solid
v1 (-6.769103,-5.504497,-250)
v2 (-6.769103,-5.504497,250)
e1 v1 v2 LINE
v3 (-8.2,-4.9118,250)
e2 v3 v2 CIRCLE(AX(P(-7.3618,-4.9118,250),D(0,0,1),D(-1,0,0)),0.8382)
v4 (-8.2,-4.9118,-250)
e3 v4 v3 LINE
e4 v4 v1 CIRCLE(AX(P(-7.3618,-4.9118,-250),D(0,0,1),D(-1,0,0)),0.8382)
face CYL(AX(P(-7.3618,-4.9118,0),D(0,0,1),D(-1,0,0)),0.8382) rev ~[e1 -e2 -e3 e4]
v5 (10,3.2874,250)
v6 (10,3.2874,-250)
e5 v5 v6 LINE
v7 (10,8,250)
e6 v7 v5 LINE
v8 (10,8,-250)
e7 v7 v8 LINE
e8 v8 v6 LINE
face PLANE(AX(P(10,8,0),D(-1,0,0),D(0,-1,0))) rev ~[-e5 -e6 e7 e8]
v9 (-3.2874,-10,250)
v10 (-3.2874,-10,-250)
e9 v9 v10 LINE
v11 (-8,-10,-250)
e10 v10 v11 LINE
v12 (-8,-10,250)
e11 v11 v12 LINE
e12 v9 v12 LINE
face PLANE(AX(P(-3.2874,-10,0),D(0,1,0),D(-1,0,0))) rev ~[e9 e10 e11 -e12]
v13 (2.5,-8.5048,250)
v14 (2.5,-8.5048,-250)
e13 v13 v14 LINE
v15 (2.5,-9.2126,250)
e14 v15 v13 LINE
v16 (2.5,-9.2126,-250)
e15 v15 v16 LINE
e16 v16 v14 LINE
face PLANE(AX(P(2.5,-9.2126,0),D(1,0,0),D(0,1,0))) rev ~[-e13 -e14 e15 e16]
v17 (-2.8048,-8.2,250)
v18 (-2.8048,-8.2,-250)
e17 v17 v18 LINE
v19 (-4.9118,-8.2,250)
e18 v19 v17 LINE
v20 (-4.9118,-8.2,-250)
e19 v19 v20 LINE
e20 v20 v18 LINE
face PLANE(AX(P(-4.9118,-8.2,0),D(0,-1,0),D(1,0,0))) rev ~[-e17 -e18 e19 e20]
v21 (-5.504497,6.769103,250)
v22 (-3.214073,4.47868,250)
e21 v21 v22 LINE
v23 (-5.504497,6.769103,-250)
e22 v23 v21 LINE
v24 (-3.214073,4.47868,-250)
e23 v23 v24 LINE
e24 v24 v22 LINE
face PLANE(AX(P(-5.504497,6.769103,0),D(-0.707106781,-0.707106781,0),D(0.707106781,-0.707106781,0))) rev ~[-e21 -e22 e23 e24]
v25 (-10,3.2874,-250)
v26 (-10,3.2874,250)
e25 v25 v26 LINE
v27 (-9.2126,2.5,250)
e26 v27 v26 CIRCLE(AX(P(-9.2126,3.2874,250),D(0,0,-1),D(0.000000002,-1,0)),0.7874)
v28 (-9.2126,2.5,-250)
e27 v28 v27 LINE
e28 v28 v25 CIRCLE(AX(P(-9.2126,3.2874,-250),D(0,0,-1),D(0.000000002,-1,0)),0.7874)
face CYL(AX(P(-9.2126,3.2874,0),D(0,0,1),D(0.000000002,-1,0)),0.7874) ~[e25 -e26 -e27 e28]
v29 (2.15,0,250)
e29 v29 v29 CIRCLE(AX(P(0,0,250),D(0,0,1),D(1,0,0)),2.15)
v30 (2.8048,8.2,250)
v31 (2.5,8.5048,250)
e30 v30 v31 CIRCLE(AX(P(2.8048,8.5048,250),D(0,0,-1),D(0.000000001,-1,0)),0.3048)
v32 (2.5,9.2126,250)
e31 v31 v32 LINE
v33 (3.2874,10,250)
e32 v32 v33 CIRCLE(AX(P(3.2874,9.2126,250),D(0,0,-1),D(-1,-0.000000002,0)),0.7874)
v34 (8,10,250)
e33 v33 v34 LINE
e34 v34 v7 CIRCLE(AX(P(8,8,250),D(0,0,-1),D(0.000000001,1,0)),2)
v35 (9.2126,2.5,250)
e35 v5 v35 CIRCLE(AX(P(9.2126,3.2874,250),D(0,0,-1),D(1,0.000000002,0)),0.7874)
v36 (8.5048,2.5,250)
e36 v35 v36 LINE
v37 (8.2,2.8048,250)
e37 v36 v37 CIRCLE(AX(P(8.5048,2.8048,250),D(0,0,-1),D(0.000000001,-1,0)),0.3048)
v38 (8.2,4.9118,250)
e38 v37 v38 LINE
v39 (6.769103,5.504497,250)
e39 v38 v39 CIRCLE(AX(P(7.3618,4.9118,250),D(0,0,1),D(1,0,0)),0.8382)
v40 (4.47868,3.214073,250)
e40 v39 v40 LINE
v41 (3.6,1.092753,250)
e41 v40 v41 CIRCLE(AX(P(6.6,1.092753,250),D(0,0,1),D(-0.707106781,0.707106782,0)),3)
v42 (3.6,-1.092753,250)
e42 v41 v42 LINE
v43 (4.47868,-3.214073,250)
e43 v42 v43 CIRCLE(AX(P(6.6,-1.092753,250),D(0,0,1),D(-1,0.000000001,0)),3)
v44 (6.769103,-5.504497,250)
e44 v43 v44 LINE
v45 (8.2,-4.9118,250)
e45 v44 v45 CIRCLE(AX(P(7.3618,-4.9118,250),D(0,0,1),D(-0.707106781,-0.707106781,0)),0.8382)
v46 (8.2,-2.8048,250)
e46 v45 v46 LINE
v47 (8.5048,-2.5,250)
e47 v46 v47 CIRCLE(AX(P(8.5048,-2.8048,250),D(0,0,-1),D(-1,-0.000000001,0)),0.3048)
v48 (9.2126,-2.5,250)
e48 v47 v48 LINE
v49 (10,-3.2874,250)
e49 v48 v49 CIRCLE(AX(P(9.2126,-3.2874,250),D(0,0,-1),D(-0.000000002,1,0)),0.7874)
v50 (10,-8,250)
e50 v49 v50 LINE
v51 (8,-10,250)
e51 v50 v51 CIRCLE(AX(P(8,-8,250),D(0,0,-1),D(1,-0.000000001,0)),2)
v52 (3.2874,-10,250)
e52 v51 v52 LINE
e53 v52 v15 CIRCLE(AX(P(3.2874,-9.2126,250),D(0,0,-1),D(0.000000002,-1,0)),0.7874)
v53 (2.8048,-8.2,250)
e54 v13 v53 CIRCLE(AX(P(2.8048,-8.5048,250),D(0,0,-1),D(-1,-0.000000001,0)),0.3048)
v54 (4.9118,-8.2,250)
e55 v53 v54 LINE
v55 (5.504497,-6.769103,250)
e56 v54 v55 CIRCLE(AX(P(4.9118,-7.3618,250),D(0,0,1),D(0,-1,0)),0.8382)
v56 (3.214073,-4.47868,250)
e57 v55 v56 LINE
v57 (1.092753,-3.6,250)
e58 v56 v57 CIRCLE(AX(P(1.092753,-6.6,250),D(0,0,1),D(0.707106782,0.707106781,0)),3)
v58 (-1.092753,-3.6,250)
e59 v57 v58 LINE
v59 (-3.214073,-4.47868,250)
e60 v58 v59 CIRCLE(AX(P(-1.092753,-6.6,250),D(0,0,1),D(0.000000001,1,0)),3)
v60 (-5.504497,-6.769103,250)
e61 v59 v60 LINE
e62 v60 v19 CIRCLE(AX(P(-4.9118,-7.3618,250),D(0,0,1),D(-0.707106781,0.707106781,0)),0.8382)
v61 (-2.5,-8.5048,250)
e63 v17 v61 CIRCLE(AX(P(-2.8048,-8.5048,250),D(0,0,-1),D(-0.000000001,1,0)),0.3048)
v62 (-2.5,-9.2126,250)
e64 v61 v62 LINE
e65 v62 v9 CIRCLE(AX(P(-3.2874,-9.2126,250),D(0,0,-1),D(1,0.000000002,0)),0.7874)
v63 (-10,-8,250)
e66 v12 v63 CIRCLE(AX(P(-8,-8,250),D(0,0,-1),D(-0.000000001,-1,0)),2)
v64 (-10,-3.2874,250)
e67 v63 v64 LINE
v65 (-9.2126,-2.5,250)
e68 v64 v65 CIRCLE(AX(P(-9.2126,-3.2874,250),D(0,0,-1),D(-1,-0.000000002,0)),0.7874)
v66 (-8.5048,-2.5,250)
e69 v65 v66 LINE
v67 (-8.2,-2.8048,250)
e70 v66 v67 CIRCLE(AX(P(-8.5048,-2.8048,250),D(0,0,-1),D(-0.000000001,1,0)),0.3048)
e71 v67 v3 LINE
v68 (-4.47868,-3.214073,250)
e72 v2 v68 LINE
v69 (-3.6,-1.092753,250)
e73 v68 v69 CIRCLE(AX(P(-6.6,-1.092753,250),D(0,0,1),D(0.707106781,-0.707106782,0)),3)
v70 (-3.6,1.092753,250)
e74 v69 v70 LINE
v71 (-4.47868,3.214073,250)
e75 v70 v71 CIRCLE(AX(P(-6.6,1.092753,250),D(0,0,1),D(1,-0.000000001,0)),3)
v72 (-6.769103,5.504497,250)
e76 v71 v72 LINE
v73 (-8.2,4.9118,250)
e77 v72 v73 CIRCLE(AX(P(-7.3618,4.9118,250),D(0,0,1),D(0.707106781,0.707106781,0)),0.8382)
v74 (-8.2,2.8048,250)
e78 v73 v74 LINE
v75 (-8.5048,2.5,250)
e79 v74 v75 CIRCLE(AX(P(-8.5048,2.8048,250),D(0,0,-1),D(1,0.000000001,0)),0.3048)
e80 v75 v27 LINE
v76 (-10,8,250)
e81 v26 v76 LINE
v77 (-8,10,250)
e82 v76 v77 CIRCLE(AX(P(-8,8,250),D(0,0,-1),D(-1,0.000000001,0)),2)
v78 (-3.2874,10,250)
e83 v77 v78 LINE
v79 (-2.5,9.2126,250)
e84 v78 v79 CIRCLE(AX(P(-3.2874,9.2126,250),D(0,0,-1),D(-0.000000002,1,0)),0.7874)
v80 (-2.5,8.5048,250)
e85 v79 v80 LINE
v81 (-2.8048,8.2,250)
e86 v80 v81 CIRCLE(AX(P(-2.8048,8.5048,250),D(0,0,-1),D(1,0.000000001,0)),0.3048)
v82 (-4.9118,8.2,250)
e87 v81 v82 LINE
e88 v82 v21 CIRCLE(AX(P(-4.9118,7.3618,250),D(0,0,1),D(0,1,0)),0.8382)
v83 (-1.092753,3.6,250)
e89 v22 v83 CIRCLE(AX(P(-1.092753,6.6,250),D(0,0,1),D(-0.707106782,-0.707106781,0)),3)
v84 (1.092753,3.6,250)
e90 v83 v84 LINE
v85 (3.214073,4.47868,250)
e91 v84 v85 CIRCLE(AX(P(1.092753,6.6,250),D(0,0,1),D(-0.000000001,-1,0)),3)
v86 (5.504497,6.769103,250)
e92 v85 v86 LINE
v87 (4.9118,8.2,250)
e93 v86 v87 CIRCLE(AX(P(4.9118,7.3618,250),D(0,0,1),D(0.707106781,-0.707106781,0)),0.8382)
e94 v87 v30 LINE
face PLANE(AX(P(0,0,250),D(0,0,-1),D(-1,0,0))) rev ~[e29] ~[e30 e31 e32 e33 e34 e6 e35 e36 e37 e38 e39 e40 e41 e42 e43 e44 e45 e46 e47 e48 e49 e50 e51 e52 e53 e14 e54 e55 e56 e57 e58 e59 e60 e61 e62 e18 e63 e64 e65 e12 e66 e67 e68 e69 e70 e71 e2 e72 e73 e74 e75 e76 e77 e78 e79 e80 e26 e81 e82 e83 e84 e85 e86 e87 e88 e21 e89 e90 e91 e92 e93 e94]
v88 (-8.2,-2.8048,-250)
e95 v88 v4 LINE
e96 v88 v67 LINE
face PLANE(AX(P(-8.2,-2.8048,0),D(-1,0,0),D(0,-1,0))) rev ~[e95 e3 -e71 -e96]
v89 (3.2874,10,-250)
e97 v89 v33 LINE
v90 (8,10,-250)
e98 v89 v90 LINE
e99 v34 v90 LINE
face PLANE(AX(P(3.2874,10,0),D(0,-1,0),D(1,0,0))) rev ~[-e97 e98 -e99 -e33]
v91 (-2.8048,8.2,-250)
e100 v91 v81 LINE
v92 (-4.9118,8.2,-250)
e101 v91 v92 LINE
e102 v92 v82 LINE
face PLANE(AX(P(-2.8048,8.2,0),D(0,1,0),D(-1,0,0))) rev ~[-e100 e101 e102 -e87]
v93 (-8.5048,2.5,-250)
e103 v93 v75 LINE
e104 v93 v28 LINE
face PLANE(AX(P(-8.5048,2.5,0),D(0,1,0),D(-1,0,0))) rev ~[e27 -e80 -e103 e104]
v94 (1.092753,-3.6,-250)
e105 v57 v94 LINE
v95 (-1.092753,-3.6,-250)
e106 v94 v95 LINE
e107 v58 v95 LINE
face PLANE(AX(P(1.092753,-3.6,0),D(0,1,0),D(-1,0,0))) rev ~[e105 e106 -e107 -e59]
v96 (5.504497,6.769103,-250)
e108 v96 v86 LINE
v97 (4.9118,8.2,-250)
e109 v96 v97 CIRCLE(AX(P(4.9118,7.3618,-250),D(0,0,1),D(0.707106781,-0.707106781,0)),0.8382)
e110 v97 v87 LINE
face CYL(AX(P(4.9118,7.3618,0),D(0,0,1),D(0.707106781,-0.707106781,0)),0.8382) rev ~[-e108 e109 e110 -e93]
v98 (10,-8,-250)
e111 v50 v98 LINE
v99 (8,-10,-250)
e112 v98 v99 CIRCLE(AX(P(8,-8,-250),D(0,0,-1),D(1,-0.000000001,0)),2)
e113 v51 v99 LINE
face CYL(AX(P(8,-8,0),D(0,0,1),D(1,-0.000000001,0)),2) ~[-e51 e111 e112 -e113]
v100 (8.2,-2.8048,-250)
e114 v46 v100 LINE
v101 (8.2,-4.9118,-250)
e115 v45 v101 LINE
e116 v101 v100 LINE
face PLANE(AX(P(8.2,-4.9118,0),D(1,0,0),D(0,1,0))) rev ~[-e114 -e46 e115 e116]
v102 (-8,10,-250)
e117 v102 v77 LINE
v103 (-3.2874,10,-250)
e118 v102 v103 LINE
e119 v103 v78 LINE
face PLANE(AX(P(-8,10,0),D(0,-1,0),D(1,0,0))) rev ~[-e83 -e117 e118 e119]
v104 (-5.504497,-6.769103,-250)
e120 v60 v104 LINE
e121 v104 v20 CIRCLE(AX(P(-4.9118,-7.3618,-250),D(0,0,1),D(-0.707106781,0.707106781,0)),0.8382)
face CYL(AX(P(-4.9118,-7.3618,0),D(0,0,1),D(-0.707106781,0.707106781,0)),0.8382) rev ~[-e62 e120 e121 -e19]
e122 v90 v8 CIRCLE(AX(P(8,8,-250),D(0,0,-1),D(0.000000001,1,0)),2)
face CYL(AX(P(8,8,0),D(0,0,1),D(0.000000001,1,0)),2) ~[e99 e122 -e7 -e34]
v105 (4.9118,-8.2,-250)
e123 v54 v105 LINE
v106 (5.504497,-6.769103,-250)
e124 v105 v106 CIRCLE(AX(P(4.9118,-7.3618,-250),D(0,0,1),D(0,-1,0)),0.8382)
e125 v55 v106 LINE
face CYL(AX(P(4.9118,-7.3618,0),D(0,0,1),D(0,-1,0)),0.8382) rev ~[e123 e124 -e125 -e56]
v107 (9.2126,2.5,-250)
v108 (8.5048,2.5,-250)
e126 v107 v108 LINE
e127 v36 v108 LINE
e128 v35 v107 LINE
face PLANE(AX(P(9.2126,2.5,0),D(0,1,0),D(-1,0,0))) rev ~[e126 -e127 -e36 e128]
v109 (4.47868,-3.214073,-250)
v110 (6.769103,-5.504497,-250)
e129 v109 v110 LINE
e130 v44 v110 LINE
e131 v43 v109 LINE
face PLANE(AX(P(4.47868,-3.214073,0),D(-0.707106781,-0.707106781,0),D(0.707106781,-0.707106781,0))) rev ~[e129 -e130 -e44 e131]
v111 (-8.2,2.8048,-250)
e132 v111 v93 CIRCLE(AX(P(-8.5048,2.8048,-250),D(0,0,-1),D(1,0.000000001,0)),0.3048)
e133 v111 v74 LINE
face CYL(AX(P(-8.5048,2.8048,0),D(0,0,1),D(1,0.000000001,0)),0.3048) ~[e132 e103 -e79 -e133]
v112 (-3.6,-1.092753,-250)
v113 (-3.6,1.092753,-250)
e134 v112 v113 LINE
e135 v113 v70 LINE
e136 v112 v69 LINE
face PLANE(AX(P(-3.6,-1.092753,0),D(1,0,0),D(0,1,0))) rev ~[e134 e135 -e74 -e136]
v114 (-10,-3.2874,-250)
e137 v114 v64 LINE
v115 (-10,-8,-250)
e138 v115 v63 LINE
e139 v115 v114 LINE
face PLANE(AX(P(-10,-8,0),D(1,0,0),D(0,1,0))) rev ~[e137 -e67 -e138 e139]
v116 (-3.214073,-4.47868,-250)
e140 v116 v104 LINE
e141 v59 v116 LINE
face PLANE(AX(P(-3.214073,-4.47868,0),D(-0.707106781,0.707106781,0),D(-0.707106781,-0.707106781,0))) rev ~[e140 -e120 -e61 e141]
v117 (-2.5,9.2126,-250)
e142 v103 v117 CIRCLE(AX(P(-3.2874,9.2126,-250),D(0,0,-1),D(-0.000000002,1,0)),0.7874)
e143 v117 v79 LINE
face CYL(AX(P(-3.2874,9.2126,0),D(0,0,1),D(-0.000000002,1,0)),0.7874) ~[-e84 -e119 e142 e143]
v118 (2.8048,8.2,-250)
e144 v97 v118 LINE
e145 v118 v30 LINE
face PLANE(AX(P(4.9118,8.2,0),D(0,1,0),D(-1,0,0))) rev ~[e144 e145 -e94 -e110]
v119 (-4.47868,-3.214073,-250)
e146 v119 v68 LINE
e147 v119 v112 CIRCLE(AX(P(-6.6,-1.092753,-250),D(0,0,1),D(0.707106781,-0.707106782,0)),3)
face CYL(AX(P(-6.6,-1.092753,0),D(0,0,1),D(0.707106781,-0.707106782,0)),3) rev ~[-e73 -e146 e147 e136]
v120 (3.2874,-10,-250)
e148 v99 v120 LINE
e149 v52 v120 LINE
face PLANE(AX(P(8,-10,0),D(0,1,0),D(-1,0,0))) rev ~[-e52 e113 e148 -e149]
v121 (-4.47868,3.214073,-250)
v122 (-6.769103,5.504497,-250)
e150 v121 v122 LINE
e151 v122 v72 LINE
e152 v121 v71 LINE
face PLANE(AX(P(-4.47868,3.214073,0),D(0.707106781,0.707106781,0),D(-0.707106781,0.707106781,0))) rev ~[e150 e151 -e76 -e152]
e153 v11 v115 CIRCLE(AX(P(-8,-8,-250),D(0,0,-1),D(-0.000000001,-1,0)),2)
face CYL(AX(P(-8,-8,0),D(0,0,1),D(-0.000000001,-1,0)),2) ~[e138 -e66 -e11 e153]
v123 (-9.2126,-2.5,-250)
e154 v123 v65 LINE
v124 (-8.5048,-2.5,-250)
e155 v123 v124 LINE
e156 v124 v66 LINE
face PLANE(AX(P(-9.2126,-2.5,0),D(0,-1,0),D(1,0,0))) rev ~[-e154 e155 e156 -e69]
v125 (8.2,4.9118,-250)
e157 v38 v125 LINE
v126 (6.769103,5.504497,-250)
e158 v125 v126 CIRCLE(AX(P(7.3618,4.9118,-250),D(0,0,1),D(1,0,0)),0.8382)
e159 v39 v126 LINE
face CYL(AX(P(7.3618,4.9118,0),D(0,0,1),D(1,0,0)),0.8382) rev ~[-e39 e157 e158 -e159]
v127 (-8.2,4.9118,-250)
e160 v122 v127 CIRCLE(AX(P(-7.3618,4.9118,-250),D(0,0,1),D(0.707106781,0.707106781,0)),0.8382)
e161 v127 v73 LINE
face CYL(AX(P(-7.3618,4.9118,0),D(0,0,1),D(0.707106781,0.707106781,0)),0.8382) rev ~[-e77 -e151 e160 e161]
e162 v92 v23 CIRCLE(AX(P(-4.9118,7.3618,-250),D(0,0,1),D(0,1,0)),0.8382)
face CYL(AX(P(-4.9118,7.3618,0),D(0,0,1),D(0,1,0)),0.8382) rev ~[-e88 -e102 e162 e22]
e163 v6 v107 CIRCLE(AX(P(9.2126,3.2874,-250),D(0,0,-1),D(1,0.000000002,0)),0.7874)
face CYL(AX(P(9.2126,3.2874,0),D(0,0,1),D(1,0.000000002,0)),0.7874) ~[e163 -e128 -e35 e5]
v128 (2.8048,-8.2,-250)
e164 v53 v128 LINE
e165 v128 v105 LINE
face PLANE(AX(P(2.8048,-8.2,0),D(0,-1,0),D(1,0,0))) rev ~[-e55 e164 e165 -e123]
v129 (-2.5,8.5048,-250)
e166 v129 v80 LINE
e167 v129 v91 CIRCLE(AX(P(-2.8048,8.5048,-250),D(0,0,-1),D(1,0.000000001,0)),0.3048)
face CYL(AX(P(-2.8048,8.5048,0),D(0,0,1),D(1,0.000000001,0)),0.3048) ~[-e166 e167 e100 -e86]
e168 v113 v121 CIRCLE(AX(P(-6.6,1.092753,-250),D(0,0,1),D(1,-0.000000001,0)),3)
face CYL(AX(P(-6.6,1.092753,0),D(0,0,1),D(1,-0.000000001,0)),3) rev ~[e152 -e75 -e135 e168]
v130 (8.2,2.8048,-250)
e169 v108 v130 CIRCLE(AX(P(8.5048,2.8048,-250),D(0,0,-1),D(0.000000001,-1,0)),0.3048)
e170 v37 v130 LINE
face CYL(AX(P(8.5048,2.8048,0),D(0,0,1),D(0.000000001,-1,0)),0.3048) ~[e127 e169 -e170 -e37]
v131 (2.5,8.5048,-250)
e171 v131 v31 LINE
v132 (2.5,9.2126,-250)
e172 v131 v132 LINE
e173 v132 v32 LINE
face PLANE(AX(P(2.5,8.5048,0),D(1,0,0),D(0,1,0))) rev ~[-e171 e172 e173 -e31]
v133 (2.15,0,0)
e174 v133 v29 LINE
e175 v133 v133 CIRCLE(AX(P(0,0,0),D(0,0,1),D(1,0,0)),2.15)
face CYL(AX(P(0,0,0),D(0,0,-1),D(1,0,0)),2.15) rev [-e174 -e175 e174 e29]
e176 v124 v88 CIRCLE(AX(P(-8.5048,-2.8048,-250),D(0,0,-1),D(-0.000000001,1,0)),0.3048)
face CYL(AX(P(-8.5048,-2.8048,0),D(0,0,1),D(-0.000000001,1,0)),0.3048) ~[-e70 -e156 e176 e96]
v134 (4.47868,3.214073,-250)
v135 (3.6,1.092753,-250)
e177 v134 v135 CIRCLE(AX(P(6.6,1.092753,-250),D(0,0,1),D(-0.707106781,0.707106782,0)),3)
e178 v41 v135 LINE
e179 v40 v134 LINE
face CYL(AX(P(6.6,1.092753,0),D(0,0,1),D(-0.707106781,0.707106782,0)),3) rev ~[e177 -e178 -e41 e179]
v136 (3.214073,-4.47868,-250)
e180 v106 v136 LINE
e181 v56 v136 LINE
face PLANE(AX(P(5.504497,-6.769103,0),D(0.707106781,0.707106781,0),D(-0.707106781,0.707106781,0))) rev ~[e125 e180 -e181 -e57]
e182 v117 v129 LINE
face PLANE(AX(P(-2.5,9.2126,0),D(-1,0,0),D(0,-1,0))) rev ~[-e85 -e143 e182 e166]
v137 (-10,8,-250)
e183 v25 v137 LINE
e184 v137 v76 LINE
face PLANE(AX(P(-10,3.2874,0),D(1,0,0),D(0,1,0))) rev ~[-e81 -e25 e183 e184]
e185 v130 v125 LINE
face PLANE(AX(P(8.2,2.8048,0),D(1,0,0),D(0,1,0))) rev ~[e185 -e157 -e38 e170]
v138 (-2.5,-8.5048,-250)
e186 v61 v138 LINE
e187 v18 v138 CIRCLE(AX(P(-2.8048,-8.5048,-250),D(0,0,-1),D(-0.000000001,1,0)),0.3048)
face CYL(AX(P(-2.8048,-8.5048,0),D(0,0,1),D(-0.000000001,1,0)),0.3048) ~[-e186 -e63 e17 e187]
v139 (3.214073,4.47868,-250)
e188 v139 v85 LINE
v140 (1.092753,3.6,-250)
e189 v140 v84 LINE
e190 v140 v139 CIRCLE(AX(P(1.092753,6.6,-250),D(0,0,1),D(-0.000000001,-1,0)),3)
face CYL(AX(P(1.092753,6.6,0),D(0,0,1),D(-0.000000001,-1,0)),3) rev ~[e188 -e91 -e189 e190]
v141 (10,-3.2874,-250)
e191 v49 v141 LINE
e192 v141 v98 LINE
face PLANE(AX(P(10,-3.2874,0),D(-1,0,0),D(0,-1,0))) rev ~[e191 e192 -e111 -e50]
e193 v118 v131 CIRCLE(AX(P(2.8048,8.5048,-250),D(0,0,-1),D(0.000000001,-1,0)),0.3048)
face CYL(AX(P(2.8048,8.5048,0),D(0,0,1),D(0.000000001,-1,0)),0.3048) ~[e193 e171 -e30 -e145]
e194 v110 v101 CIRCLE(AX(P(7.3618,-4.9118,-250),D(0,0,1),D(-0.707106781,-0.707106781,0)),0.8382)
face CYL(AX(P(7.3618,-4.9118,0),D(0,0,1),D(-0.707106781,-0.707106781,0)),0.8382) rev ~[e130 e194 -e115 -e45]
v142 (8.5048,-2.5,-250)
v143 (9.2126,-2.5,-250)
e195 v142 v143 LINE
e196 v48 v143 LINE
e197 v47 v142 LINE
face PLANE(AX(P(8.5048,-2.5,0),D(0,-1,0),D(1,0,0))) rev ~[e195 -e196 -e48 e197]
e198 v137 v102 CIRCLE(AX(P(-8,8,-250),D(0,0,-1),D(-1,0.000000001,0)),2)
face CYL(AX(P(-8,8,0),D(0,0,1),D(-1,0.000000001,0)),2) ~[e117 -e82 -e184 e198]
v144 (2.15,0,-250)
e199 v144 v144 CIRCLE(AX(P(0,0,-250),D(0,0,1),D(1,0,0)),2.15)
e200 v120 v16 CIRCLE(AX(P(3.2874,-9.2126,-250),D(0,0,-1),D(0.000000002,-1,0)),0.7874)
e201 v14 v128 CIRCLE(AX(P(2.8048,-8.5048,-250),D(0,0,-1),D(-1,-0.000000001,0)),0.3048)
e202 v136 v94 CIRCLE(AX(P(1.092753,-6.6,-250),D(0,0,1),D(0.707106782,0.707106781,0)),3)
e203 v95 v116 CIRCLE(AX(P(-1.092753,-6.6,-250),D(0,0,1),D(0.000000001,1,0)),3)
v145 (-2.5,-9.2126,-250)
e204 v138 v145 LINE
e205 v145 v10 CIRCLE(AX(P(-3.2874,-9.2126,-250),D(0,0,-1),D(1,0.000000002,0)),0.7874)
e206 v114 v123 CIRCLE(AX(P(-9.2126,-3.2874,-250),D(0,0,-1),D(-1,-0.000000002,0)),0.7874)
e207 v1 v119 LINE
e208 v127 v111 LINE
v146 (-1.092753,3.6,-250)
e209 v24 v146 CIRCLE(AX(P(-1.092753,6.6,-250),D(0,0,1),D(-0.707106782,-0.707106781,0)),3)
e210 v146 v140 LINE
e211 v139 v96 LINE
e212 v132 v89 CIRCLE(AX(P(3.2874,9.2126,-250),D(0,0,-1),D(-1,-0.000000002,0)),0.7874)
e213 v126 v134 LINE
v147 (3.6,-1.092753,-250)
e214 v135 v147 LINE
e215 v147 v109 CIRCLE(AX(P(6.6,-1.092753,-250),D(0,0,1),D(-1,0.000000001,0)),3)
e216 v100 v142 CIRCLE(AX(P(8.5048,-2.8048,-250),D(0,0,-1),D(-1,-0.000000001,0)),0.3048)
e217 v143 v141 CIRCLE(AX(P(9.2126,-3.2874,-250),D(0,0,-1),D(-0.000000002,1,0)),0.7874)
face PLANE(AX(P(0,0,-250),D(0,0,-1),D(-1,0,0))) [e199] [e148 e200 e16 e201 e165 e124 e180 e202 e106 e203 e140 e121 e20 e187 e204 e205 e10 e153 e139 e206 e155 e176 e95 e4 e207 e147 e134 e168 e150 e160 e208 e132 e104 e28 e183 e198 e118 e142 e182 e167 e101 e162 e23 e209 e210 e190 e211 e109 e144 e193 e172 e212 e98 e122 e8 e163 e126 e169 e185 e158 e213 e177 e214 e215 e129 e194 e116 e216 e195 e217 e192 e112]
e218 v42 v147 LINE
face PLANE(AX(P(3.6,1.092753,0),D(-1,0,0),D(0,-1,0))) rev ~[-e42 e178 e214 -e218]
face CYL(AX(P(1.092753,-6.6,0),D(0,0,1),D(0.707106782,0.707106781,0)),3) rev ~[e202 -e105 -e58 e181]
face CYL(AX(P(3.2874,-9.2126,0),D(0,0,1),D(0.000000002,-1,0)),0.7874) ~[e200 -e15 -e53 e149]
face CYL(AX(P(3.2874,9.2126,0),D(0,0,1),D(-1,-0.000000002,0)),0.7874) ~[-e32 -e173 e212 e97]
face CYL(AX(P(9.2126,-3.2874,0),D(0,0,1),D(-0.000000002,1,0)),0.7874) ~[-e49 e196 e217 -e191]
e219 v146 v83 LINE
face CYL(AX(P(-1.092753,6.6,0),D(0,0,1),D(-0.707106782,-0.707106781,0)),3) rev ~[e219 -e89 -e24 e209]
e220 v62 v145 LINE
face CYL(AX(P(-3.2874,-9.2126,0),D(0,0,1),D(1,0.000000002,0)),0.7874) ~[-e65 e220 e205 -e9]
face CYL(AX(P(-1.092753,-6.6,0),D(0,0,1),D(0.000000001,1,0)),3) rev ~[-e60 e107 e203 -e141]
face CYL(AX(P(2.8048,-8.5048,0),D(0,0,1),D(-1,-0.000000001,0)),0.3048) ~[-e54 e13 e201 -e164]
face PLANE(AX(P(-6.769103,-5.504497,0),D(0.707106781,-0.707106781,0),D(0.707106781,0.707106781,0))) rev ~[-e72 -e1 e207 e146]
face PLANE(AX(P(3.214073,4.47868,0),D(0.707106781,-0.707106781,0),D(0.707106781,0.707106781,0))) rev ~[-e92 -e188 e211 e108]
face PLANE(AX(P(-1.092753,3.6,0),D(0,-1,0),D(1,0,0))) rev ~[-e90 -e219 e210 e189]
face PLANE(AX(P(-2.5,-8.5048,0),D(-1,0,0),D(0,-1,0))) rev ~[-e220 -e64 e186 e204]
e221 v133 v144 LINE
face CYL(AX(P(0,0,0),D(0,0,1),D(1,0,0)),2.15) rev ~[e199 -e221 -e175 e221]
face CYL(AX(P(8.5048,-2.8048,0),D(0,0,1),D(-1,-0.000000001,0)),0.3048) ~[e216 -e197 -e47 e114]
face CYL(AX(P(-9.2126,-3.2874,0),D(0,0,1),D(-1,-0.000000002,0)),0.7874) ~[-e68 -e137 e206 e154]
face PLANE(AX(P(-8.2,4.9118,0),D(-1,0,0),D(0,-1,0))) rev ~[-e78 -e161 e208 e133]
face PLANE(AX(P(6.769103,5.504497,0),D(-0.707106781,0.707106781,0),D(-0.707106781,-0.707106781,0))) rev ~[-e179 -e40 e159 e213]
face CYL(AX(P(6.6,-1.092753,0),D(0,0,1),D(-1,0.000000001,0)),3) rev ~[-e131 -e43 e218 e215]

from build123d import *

# Parameters (mm, degrees)
SKETCH3_R                = 2.15
BOSS_EXTRUDE1_DEPTH      = 250
BOSS_EXTRUDE1_DEPTH_BACK = 250


with BuildPart() as part:
    # Sketch3 → Boss-Extrude1 (new body, two sides)
    with BuildSketch(Plane.XY) as boss_extrude1_sk:
        with BuildLine():
            Line((3.2874, 10), (8, 10))
            ThreePointArc((8, 10), (9.414213562, 9.414213562), (10, 8))
            Line((10, 8), (10, 3.2874))
            ThreePointArc((10, 3.2874), (9.76937588, 2.73062412), (9.2126, 2.5))
            Line((9.2126, 2.5), (8.5048, 2.5))
            ThreePointArc((8.5048, 2.5), (8.289273853, 2.589273853), (8.2, 2.8048))
            Line((8.2, 2.8048), (8.2, 4.9118))
            ThreePointArc((8.2, 4.9118), (7.682565253, 5.686195824), (6.769103096, 5.504496904))
            Line((6.769103096, 5.504496904), (4.478679656, 3.214073464))
            ThreePointArc((4.478679656, 3.214073464), (3.828361402, 2.240803418), (3.6, 1.092753121))
            Line((3.6, 1.092753121), (3.6, -1.092753121))
            ThreePointArc((3.6, -1.092753121), (3.828361402, -2.240803418), (4.478679656, -3.214073464))
            Line((4.478679656, -3.214073464), (6.769103096, -5.504496904))
            ThreePointArc((6.769103096, -5.504496904), (7.682565253, -5.686195824), (8.2, -4.9118))
            Line((8.2, -4.9118), (8.2, -2.8048))
            ThreePointArc((8.2, -2.8048), (8.289273853, -2.589273853), (8.5048, -2.5))
            Line((8.5048, -2.5), (9.2126, -2.5))
            ThreePointArc((9.2126, -2.5), (9.76937588, -2.73062412), (10, -3.2874))
            Line((10, -3.2874), (10, -8))
            ThreePointArc((10, -8), (9.414213562, -9.414213562), (8, -10))
            Line((8, -10), (3.2874, -10))
            ThreePointArc((3.2874, -10), (2.73062412, -9.76937588), (2.5, -9.2126))
            Line((2.5, -9.2126), (2.5, -8.5048))
            ThreePointArc((2.5, -8.5048), (2.589273853, -8.289273853), (2.8048, -8.2))
            Line((2.8048, -8.2), (4.9118, -8.2))
            ThreePointArc((4.9118, -8.2), (5.686195824, -7.682565253), (5.504496904, -6.769103096))
            Line((5.504496904, -6.769103096), (3.214073464, -4.478679656))
            ThreePointArc((3.214073464, -4.478679656), (2.240803418, -3.828361402), (1.092753121, -3.6))
            Line((1.092753121, -3.6), (-1.092753121, -3.6))
            ThreePointArc((-1.092753121, -3.6), (-2.240803418, -3.828361402), (-3.214073464, -4.478679656))
            Line((-3.214073464, -4.478679656), (-5.504496904, -6.769103096))
            ThreePointArc((-5.504496904, -6.769103096), (-5.686195824, -7.682565253), (-4.9118, -8.2))
            Line((-4.9118, -8.2), (-2.8048, -8.2))
            ThreePointArc((-2.8048, -8.2), (-2.589273853, -8.289273853), (-2.5, -8.5048))
            Line((-2.5, -8.5048), (-2.5, -9.2126))
            ThreePointArc((-2.5, -9.2126), (-2.73062412, -9.76937588), (-3.2874, -10))
            Line((-3.2874, -10), (-8, -10))
            ThreePointArc((-8, -10), (-9.414213562, -9.414213562), (-10, -8))
            Line((-10, -8), (-10, -3.2874))
            ThreePointArc((-10, -3.2874), (-9.76937588, -2.73062412), (-9.2126, -2.5))
            Line((-9.2126, -2.5), (-8.5048, -2.5))
            ThreePointArc((-8.5048, -2.5), (-8.289273853, -2.589273853), (-8.2, -2.8048))
            Line((-8.2, -2.8048), (-8.2, -4.9118))
            ThreePointArc((-8.2, -4.9118), (-7.682565253, -5.686195824), (-6.769103096, -5.504496904))
            Line((-6.769103096, -5.504496904), (-4.478679656, -3.214073464))
            ThreePointArc((-4.478679656, -3.214073464), (-3.828361402, -2.240803418), (-3.6, -1.092753121))
            Line((-3.6, -1.092753121), (-3.6, 1.092753121))
            ThreePointArc((-3.6, 1.092753121), (-3.828361402, 2.240803418), (-4.478679656, 3.214073464))
            Line((-4.478679656, 3.214073464), (-6.769103096, 5.504496904))
            ThreePointArc((-6.769103096, 5.504496904), (-7.682565253, 5.686195824), (-8.2, 4.9118))
            Line((-8.2, 4.9118), (-8.2, 2.8048))
            ThreePointArc((-8.2, 2.8048), (-8.289273853, 2.589273853), (-8.5048, 2.5))
            Line((-8.5048, 2.5), (-9.2126, 2.5))
            ThreePointArc((-9.2126, 2.5), (-9.76937588, 2.73062412), (-10, 3.2874))
            Line((-10, 3.2874), (-10, 8))
            ThreePointArc((-10, 8), (-9.414213562, 9.414213562), (-8, 10))
            Line((-8, 10), (-3.2874, 10))
            ThreePointArc((-3.2874, 10), (-2.73062412, 9.76937588), (-2.5, 9.2126))
            Line((-2.5, 9.2126), (-2.5, 8.5048))
            ThreePointArc((-2.5, 8.5048), (-2.589273853, 8.289273853), (-2.8048, 8.2))
            Line((-2.8048, 8.2), (-4.9118, 8.2))
            ThreePointArc((-4.9118, 8.2), (-5.686195824, 7.682565253), (-5.504496904, 6.769103096))
            Line((-5.504496904, 6.769103096), (-3.214073464, 4.478679656))
            ThreePointArc((-3.214073464, 4.478679656), (-2.240803418, 3.828361402), (-1.092753121, 3.6))
            Line((-1.092753121, 3.6), (1.092753121, 3.6))
            ThreePointArc((1.092753121, 3.6), (2.240803418, 3.828361402), (3.214073464, 4.478679656))
            Line((3.214073464, 4.478679656), (5.504496904, 6.769103096))
            ThreePointArc((5.504496904, 6.769103096), (5.686195824, 7.682565253), (4.9118, 8.2))
            Line((4.9118, 8.2), (2.8048, 8.2))
            ThreePointArc((2.8048, 8.2), (2.589273853, 8.289273853), (2.5, 8.5048))
            Line((2.5, 8.5048), (2.5, 9.2126))
            ThreePointArc((2.5, 9.2126), (2.73062412, 9.76937588), (3.2874, 10))
        make_face()
        Circle(SKETCH3_R, mode=Mode.SUBTRACT)
    extrude(amount=BOSS_EXTRUDE1_DEPTH)
    extrude(boss_extrude1_sk.sketch, amount=-BOSS_EXTRUDE1_DEPTH_BACK)


solid = part.part
